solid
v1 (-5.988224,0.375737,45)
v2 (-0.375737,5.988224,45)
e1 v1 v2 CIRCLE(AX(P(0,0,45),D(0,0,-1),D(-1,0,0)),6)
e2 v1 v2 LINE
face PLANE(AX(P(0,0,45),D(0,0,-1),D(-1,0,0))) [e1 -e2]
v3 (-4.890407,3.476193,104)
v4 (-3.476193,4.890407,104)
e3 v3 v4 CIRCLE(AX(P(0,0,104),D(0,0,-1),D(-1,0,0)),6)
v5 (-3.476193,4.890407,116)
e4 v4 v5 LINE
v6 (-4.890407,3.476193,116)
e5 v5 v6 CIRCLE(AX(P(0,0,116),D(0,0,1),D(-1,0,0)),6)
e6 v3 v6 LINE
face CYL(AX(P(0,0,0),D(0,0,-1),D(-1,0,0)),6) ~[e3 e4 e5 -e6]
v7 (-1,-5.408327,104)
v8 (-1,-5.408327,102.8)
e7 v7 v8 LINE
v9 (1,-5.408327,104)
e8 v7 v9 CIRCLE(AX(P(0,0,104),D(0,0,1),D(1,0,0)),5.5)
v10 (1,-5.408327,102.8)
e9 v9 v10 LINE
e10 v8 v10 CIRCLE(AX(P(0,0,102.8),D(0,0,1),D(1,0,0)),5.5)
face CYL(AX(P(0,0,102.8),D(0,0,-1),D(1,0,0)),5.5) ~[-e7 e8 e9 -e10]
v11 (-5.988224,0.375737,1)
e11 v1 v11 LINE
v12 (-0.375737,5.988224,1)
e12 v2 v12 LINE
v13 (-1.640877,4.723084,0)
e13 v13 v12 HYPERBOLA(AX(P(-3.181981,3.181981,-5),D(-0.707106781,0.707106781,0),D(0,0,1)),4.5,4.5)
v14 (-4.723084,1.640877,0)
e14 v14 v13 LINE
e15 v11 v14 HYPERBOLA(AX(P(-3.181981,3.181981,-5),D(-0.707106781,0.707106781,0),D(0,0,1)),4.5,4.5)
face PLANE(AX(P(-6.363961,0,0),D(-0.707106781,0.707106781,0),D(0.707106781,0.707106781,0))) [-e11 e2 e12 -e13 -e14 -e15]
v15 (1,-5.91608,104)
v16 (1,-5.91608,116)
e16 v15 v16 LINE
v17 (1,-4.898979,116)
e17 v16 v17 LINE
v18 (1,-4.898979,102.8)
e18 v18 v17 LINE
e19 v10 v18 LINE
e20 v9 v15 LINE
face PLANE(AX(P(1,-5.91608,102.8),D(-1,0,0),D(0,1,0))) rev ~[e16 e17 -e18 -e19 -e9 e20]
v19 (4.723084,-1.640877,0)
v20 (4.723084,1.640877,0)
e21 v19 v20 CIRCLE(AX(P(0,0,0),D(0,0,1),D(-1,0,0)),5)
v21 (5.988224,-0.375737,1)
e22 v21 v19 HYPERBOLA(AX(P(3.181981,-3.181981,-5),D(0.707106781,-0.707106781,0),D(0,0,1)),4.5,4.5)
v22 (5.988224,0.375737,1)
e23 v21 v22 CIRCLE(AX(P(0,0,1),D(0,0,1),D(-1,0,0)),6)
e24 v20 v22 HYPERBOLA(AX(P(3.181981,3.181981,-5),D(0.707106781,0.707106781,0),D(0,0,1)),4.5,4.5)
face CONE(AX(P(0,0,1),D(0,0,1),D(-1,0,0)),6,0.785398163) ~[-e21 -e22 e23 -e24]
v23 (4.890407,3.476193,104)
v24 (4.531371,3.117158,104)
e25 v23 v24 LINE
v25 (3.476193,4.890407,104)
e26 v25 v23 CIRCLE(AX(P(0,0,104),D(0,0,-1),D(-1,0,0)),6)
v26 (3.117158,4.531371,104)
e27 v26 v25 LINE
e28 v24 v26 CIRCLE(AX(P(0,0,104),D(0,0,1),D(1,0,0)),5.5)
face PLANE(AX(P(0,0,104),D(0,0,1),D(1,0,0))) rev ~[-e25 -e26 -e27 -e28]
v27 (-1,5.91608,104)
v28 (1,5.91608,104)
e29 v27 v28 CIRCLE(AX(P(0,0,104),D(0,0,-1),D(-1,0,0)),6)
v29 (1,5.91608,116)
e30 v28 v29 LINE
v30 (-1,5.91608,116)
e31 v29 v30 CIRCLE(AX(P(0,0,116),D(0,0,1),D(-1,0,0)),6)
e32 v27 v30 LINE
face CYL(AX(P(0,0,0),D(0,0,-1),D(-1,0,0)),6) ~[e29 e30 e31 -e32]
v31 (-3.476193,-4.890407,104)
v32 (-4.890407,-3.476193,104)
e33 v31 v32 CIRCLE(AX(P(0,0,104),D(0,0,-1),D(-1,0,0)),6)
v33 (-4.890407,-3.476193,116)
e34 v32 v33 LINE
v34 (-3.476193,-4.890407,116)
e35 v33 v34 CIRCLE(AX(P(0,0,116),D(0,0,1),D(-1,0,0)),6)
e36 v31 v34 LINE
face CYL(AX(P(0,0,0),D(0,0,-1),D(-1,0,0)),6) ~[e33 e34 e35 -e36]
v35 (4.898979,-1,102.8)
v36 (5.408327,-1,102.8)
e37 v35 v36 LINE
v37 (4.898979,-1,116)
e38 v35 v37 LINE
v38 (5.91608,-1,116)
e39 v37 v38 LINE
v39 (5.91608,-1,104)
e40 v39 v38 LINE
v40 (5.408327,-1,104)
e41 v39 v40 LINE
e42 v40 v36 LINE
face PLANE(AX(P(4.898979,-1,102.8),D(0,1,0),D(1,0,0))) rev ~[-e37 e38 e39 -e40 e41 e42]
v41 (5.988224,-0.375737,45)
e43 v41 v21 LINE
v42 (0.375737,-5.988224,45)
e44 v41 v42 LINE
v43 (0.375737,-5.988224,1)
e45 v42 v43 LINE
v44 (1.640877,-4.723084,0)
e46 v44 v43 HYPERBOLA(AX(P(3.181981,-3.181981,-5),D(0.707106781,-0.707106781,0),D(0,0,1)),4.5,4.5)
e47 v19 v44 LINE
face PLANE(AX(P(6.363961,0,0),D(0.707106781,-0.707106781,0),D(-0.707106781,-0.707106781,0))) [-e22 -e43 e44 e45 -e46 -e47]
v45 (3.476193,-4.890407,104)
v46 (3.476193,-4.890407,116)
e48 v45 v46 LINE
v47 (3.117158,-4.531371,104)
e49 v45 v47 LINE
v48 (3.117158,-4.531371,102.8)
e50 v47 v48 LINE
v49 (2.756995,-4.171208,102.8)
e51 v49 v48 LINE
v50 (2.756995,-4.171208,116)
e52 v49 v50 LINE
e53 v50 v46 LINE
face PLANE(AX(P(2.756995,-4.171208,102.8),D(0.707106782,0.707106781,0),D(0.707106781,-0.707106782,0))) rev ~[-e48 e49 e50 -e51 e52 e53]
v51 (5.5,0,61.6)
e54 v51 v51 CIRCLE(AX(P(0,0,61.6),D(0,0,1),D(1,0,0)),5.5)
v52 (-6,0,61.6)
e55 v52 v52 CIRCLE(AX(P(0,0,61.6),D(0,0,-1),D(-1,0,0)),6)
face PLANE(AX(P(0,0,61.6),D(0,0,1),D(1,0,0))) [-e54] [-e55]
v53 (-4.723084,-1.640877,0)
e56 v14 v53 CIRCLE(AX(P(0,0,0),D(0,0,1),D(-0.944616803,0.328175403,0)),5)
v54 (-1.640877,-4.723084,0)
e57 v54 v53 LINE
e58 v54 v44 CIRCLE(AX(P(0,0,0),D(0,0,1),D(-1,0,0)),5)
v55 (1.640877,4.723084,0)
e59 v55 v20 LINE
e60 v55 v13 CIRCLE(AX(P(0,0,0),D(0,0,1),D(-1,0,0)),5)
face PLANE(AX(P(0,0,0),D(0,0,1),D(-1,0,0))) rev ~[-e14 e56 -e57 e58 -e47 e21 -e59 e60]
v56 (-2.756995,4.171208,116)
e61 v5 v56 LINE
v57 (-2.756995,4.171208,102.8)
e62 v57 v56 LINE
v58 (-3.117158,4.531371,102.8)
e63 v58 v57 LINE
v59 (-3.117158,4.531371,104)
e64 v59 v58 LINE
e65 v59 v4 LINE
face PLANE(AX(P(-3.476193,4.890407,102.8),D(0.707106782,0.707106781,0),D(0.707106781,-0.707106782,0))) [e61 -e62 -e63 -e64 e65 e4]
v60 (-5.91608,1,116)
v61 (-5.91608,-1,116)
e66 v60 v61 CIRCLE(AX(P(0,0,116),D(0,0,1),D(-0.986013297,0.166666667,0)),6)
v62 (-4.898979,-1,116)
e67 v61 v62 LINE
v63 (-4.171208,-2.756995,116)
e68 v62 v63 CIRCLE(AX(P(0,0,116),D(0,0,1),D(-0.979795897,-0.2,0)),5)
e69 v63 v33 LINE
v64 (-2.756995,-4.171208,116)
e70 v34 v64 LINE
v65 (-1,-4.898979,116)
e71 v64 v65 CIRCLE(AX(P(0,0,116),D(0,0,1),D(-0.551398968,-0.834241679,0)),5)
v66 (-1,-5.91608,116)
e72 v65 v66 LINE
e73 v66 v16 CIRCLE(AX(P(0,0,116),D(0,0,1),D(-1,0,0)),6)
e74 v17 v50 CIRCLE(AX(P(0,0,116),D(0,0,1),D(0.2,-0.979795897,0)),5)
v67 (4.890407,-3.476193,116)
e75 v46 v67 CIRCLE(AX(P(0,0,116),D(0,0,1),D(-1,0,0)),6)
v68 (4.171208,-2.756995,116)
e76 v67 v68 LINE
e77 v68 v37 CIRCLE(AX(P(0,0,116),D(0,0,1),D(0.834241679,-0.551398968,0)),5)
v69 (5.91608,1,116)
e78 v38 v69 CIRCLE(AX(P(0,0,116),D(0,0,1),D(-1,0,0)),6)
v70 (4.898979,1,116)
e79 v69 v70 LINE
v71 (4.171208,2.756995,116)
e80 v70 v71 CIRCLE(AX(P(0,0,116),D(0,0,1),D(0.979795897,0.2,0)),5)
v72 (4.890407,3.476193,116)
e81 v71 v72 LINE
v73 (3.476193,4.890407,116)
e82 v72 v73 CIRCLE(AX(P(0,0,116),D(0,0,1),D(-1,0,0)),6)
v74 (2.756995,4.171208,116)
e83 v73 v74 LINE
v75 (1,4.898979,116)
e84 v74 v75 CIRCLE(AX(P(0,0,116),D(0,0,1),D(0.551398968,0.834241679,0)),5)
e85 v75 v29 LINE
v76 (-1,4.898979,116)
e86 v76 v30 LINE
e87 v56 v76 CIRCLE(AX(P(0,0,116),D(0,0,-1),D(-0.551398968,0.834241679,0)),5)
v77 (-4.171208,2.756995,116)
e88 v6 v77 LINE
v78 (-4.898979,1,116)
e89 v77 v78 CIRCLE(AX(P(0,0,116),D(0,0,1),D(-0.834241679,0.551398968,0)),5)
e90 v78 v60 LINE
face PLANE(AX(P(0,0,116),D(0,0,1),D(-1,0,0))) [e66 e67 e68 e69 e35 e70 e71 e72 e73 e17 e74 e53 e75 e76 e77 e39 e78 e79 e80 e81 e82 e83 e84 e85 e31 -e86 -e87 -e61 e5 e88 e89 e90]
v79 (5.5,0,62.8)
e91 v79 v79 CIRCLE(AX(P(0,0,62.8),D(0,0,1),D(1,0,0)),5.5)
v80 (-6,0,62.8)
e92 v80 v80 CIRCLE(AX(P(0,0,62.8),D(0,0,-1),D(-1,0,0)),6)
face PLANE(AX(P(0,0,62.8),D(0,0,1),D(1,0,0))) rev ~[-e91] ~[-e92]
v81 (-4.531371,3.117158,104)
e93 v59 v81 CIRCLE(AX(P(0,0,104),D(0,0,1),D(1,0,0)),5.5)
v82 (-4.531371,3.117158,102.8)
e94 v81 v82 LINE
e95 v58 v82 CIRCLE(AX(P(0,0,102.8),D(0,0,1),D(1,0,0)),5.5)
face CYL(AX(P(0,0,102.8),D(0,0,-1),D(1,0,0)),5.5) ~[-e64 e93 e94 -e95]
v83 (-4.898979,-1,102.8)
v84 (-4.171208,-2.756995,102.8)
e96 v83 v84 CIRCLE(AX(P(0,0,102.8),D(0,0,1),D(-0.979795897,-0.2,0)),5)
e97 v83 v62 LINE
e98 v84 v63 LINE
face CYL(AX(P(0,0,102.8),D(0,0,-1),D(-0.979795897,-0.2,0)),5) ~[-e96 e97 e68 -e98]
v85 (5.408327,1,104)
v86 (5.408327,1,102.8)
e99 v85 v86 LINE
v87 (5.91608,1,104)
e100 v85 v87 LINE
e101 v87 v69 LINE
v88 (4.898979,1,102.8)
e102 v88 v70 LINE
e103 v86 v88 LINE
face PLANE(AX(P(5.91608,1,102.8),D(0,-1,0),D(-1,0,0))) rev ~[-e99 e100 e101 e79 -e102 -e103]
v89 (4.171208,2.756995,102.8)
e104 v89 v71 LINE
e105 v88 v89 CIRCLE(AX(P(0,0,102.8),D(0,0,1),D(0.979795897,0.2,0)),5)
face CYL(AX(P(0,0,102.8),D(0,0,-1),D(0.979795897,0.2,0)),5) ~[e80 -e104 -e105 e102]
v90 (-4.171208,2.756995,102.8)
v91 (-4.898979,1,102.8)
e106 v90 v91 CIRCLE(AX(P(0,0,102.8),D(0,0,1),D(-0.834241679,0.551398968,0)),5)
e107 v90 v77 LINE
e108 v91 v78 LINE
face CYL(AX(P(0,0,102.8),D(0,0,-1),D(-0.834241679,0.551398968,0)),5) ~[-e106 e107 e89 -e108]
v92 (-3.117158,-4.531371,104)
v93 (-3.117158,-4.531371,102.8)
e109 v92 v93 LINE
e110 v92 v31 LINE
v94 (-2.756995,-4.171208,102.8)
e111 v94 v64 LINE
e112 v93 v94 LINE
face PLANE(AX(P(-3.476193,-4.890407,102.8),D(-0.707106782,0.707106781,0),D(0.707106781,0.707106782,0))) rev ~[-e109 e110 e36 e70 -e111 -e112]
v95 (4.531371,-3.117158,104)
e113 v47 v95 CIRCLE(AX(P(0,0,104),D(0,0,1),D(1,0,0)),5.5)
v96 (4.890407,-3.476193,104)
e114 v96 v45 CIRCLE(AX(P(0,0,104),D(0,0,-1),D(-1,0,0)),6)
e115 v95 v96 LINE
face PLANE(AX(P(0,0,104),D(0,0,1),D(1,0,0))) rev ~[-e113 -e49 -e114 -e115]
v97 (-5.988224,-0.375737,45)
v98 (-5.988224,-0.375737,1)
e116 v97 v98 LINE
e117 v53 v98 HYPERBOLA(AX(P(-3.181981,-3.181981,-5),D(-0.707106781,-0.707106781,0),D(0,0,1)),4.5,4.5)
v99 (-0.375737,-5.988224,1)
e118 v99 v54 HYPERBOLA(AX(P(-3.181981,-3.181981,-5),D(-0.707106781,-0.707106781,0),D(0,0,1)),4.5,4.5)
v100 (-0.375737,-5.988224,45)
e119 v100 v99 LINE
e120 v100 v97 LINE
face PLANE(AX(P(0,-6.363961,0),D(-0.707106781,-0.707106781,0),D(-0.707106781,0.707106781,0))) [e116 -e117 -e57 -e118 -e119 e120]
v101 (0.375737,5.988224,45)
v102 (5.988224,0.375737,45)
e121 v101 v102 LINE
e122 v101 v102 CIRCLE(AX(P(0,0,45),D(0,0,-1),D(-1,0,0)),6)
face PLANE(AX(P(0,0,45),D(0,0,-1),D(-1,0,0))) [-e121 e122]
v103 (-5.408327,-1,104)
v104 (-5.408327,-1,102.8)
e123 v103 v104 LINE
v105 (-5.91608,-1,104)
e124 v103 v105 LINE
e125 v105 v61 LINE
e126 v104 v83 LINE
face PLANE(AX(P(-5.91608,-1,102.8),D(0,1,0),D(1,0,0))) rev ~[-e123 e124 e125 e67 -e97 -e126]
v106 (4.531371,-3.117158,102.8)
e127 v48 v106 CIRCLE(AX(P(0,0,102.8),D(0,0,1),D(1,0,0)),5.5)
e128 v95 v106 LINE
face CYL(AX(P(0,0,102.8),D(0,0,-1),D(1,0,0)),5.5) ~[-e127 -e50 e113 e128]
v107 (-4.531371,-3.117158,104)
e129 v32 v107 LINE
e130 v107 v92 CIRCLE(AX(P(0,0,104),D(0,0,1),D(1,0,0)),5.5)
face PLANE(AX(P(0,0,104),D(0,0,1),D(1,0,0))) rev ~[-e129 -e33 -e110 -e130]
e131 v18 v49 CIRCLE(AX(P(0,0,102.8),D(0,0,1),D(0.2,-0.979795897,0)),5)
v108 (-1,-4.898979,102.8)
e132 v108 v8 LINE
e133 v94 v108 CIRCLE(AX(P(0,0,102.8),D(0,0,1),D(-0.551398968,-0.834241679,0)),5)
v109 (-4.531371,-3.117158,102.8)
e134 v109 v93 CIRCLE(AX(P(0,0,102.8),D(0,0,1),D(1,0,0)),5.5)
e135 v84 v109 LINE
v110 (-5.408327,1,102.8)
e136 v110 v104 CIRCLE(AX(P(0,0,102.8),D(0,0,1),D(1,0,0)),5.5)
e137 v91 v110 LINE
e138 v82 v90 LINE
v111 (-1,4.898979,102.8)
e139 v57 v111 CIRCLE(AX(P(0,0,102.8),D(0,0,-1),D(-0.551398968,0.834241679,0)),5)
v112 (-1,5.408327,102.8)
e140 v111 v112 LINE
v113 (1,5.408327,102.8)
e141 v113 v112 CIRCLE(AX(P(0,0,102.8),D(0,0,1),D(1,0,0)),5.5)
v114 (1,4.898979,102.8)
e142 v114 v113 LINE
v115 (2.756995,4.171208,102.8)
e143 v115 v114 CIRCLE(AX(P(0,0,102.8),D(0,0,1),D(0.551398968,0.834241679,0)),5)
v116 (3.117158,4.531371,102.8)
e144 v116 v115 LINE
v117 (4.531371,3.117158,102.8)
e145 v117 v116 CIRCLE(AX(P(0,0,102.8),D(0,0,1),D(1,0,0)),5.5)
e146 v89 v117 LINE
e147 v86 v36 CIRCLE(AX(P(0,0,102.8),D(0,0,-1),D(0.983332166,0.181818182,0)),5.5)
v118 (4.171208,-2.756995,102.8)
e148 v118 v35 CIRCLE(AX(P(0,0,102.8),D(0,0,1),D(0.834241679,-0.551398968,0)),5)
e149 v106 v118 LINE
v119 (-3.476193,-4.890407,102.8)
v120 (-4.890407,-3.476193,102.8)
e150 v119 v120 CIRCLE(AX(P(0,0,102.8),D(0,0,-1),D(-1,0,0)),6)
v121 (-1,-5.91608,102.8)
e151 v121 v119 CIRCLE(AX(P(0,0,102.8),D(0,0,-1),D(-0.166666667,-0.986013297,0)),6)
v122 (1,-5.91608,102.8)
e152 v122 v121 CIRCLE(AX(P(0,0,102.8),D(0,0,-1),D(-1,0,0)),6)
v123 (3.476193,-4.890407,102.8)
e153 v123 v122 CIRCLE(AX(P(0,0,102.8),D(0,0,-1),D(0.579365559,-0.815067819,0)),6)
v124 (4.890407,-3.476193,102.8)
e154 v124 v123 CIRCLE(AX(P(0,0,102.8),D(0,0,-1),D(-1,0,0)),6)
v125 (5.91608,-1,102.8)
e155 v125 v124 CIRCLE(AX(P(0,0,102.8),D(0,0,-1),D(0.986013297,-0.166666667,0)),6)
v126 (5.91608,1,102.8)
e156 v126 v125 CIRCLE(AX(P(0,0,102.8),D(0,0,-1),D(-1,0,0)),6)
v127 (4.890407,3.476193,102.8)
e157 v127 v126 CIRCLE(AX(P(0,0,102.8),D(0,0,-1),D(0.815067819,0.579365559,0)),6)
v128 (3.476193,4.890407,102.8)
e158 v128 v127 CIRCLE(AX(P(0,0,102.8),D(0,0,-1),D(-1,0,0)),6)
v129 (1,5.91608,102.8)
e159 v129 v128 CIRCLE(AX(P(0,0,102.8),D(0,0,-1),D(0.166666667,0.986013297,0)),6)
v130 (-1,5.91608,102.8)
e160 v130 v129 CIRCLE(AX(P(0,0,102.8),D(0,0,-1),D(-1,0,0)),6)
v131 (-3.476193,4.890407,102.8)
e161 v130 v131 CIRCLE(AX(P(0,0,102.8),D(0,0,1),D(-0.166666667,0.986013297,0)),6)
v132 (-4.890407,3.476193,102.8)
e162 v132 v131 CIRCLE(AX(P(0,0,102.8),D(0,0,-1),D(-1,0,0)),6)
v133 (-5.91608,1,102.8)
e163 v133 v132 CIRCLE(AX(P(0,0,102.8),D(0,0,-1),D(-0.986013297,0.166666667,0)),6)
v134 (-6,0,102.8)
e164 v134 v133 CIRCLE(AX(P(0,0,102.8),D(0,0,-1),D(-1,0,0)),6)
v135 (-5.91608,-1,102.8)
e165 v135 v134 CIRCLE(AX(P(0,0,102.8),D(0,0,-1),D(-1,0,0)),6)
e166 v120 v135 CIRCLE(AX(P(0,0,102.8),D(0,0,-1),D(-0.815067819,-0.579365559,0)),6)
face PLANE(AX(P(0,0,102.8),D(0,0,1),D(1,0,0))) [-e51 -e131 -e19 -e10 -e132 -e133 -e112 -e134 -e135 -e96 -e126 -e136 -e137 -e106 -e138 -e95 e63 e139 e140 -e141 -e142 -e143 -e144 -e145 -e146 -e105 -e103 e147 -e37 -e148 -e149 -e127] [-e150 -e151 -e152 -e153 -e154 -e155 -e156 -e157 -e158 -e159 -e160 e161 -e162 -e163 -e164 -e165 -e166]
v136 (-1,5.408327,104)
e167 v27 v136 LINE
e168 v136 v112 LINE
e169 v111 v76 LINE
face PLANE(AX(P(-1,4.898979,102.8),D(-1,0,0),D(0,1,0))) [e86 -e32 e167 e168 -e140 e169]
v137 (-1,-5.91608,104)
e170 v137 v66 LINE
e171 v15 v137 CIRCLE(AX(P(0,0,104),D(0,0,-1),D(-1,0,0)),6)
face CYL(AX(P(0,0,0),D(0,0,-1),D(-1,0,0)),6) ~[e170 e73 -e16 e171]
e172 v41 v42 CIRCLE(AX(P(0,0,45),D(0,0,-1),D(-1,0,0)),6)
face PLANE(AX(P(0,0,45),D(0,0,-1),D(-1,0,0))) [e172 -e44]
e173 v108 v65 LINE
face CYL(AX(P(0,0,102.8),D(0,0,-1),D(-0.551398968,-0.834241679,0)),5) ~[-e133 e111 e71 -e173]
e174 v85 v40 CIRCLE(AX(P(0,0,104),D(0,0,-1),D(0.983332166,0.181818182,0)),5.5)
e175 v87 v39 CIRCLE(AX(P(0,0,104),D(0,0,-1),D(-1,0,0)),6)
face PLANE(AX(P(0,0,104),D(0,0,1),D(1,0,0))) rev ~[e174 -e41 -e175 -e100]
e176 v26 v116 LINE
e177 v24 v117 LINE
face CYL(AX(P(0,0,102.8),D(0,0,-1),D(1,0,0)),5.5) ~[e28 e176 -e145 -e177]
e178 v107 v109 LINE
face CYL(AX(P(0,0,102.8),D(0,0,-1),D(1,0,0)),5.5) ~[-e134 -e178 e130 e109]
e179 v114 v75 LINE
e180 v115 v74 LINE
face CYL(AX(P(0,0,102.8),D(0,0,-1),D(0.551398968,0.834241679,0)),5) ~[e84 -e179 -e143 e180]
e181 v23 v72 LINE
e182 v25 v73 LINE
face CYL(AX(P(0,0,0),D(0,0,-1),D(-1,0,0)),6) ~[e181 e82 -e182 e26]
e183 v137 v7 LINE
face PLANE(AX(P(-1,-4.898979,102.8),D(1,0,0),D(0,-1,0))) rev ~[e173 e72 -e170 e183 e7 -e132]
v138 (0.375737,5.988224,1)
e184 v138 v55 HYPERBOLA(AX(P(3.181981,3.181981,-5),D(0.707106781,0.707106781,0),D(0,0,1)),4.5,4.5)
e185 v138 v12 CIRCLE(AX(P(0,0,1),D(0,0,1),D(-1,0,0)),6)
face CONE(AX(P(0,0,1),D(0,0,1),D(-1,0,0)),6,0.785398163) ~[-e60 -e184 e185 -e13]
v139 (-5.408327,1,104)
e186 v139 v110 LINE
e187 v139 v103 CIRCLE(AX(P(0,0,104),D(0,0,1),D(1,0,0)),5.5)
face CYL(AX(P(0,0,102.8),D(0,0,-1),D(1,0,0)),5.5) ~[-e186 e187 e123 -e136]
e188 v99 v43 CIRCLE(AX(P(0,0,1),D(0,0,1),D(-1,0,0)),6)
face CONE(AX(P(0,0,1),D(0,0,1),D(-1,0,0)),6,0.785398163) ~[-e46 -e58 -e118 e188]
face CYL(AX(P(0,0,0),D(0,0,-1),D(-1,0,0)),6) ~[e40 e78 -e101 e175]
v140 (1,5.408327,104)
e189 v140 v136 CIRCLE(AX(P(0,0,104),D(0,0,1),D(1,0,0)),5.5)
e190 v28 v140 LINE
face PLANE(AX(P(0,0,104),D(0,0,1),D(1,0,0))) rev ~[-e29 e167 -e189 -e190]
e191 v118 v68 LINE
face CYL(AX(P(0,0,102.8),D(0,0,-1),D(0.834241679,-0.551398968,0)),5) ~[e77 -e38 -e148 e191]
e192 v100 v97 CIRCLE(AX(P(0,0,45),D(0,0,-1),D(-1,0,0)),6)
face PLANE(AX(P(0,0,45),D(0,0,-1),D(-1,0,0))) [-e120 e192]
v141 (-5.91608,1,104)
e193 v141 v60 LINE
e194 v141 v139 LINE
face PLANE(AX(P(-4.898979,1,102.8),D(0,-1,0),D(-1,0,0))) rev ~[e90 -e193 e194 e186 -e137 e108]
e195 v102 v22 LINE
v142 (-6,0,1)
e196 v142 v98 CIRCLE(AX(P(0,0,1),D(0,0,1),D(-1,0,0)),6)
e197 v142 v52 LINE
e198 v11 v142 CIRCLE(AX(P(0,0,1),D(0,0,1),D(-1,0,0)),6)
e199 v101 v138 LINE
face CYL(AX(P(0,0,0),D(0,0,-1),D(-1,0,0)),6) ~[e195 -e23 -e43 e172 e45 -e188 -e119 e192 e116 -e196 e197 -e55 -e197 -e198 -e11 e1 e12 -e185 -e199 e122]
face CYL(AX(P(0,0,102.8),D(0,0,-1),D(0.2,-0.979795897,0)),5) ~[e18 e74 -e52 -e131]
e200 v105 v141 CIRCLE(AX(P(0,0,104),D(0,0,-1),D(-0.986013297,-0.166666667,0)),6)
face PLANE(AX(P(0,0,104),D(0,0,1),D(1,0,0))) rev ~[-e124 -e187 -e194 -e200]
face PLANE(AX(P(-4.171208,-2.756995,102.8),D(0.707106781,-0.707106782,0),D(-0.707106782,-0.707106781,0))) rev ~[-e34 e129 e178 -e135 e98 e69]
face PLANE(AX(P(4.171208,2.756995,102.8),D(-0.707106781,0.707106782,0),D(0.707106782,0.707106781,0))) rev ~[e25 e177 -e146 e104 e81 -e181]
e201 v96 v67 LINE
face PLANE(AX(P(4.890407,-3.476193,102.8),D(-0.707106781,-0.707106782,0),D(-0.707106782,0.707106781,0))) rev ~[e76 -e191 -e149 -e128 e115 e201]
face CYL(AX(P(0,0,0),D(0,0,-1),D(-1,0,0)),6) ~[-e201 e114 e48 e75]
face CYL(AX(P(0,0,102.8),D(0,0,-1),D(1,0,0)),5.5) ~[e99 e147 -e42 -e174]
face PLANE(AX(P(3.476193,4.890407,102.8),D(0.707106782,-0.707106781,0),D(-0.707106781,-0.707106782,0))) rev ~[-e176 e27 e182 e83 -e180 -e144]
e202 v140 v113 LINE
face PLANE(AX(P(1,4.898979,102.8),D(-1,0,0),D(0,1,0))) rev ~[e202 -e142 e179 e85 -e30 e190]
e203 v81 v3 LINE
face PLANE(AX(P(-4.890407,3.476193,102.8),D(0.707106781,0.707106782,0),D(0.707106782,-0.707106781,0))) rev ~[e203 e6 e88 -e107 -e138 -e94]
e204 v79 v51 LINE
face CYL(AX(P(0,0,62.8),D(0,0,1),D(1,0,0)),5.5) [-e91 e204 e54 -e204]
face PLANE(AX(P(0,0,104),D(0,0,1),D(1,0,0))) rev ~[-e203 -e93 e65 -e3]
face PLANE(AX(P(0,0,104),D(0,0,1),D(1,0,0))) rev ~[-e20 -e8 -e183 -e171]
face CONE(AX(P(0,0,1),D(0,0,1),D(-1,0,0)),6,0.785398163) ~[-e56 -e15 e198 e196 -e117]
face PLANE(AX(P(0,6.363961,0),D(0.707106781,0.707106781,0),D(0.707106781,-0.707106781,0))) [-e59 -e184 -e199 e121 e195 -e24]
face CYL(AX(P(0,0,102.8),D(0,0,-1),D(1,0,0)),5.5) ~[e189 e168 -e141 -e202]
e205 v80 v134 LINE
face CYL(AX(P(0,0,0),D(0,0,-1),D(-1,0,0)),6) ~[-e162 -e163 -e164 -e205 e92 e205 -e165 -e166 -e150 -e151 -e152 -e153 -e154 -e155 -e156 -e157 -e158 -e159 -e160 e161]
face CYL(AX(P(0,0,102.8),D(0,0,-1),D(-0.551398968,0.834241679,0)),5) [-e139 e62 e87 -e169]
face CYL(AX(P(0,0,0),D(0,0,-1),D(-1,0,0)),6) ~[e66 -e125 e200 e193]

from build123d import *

# Parameters (mm, degrees)
SKETCH_1_R          = 6
EXTRUDE_1_DEPTH     = 116
CUT_EXTRUDE_START   = -13.2
SKETCH_2_OUTSIDE_W  = 37.446
SKETCH_2_OUTSIDE_H  = 37.446
SKETCH_2_OUTSIDE_R  = 5.5
CUT_EXTRUDE_1_DEPTH = 1.2
CUT_EXTRUDE_START_2 = -40
SKETCH_3_OUTSIDE_W  = 37.446
SKETCH_3_OUTSIDE_H  = 37.446
SKETCH_3_OUTSIDE_R  = 5.5
CUT_EXTRUDE_2_DEPTH = 1.2
CUT_EXTRUDE_3_DEPTH = 13.2
CHAMFER_1_SIZE      = 1
SKETCH_5_OUTSIDE_W  = 37.446
SKETCH_5_OUTSIDE_H  = 37.446
CUT_EXTRUDE_4_DEPTH = 45


with BuildPart() as part:
    # 草图1 → 凸台-拉伸1 (new body)
    with BuildSketch(Plane.XY):
        with Locations(Location((0, 0, 0), (0, 0, 180))):
            Circle(SKETCH_1_R)
    extrude(amount=EXTRUDE_1_DEPTH)

    # 草图2 outside → 切除-拉伸1 (cut)
    with BuildSketch(Plane.XY.offset(116).offset(CUT_EXTRUDE_START)):
        Rectangle(SKETCH_2_OUTSIDE_W, SKETCH_2_OUTSIDE_H)
        Circle(SKETCH_2_OUTSIDE_R, mode=Mode.SUBTRACT)
    extrude(amount=CUT_EXTRUDE_1_DEPTH, mode=Mode.SUBTRACT)

    # 草图3 outside → 切除-拉伸2 (cut)
    with BuildSketch(Plane.XY.offset(102.8).offset(CUT_EXTRUDE_START_2)):
        Rectangle(SKETCH_3_OUTSIDE_W, SKETCH_3_OUTSIDE_H)
        Circle(SKETCH_3_OUTSIDE_R, mode=Mode.SUBTRACT)
    extrude(amount=-CUT_EXTRUDE_2_DEPTH, mode=Mode.SUBTRACT)

    # 草图4 → 切除-拉伸3 (cut)
    with BuildSketch(Plane.XY.offset(116).offset(CUT_EXTRUDE_START)):
        with BuildLine():
            Line((-1, 4.898979486), (-1, 5.916079783))
            ThreePointArc((-1, 5.916079783), (-2.296100594, 5.543277195), (-3.476193351, 4.890406914))
            Line((-3.476193351, 4.890406914), (-2.756994834, 4.171208396))
            ThreePointArc((-2.756994834, 4.171208396), (-1.913417162, 4.619397663), (-1, 4.898979486))
        make_face()
        with BuildLine():
            Line((1, 4.898979486), (1, 5.916079783))
            ThreePointArc((1, 5.916079783), (2.296100594, 5.543277195), (3.476193351, 4.890406914))
            Line((3.476193351, 4.890406914), (2.756994834, 4.171208396))
            ThreePointArc((2.756994834, 4.171208396), (1.913417162, 4.619397663), (1, 4.898979486))
        make_face()
        with BuildLine():
            Line((4.171208396, 2.756994834), (4.890406914, 3.476193351))
            ThreePointArc((4.890406914, 3.476193351), (5.543277195, 2.296100594), (5.916079783, 1))
            Line((5.916079783, 1), (4.898979486, 1))
            ThreePointArc((4.898979486, 1), (4.619397663, 1.913417162), (4.171208396, 2.756994834))
        make_face()
        with BuildLine():
            Line((4.898979486, -1), (5.916079783, -1))
            ThreePointArc((5.916079783, -1), (5.543277195, -2.296100594), (4.890406914, -3.476193351))
            Line((4.890406914, -3.476193351), (4.171208396, -2.756994834))
            ThreePointArc((4.171208396, -2.756994834), (4.619397663, -1.913417162), (4.898979486, -1))
        make_face()
        with BuildLine():
            Line((2.756994834, -4.171208396), (3.476193351, -4.890406914))
            ThreePointArc((3.476193351, -4.890406914), (2.296100594, -5.543277195), (1, -5.916079783))
            Line((1, -5.916079783), (1, -4.898979486))
            ThreePointArc((1, -4.898979486), (1.913417162, -4.619397663), (2.756994834, -4.171208396))
        make_face()
        with BuildLine():
            Line((-1, -4.898979486), (-1, -5.916079783))
            ThreePointArc((-1, -5.916079783), (-2.296100594, -5.543277195), (-3.476193351, -4.890406914))
            Line((-3.476193351, -4.890406914), (-2.756994834, -4.171208396))
            ThreePointArc((-2.756994834, -4.171208396), (-1.913417162, -4.619397663), (-1, -4.898979486))
        make_face()
        with BuildLine():
            Line((-4.171208396, -2.756994834), (-4.890406914, -3.476193351))
            ThreePointArc((-4.890406914, -3.476193351), (-5.543277195, -2.296100594), (-5.916079783, -1))
            Line((-5.916079783, -1), (-4.898979486, -1))
            ThreePointArc((-4.898979486, -1), (-4.619397663, -1.913417162), (-4.171208396, -2.756994834))
        make_face()
        with BuildLine():
            Line((-4.898979486, 1), (-5.916079783, 1))
            ThreePointArc((-5.916079783, 1), (-5.543277195, 2.296100594), (-4.890406914, 3.476193351))
            Line((-4.890406914, 3.476193351), (-4.171208396, 2.756994834))
            ThreePointArc((-4.171208396, 2.756994834), (-4.619397663, 1.913417162), (-4.898979486, 1))
        make_face()
    extrude(amount=CUT_EXTRUDE_3_DEPTH, mode=Mode.SUBTRACT)

    # 倒角1
    chamfer_1_edges = [part.edges().sort_by_distance(p)[0] for p in [
        (6, 0, 0),
    ]]
    chamfer(chamfer_1_edges, length=CHAMFER_1_SIZE)

    # 草图5 outside → 切除-拉伸4 (cut)
    with BuildSketch(Plane(origin=(0, 0, 0), x_dir=(-1, 0, 0), z_dir=(0, 0, -1))):
        Rectangle(SKETCH_5_OUTSIDE_W, SKETCH_5_OUTSIDE_H)
        Polygon((0, -6.363961031), (6.363961031, 0), (0, 6.363961031), (-6.363961031, 0), align=None, mode=Mode.SUBTRACT)
    extrude(amount=-CUT_EXTRUDE_4_DEPTH, mode=Mode.SUBTRACT)


solid = part.part
